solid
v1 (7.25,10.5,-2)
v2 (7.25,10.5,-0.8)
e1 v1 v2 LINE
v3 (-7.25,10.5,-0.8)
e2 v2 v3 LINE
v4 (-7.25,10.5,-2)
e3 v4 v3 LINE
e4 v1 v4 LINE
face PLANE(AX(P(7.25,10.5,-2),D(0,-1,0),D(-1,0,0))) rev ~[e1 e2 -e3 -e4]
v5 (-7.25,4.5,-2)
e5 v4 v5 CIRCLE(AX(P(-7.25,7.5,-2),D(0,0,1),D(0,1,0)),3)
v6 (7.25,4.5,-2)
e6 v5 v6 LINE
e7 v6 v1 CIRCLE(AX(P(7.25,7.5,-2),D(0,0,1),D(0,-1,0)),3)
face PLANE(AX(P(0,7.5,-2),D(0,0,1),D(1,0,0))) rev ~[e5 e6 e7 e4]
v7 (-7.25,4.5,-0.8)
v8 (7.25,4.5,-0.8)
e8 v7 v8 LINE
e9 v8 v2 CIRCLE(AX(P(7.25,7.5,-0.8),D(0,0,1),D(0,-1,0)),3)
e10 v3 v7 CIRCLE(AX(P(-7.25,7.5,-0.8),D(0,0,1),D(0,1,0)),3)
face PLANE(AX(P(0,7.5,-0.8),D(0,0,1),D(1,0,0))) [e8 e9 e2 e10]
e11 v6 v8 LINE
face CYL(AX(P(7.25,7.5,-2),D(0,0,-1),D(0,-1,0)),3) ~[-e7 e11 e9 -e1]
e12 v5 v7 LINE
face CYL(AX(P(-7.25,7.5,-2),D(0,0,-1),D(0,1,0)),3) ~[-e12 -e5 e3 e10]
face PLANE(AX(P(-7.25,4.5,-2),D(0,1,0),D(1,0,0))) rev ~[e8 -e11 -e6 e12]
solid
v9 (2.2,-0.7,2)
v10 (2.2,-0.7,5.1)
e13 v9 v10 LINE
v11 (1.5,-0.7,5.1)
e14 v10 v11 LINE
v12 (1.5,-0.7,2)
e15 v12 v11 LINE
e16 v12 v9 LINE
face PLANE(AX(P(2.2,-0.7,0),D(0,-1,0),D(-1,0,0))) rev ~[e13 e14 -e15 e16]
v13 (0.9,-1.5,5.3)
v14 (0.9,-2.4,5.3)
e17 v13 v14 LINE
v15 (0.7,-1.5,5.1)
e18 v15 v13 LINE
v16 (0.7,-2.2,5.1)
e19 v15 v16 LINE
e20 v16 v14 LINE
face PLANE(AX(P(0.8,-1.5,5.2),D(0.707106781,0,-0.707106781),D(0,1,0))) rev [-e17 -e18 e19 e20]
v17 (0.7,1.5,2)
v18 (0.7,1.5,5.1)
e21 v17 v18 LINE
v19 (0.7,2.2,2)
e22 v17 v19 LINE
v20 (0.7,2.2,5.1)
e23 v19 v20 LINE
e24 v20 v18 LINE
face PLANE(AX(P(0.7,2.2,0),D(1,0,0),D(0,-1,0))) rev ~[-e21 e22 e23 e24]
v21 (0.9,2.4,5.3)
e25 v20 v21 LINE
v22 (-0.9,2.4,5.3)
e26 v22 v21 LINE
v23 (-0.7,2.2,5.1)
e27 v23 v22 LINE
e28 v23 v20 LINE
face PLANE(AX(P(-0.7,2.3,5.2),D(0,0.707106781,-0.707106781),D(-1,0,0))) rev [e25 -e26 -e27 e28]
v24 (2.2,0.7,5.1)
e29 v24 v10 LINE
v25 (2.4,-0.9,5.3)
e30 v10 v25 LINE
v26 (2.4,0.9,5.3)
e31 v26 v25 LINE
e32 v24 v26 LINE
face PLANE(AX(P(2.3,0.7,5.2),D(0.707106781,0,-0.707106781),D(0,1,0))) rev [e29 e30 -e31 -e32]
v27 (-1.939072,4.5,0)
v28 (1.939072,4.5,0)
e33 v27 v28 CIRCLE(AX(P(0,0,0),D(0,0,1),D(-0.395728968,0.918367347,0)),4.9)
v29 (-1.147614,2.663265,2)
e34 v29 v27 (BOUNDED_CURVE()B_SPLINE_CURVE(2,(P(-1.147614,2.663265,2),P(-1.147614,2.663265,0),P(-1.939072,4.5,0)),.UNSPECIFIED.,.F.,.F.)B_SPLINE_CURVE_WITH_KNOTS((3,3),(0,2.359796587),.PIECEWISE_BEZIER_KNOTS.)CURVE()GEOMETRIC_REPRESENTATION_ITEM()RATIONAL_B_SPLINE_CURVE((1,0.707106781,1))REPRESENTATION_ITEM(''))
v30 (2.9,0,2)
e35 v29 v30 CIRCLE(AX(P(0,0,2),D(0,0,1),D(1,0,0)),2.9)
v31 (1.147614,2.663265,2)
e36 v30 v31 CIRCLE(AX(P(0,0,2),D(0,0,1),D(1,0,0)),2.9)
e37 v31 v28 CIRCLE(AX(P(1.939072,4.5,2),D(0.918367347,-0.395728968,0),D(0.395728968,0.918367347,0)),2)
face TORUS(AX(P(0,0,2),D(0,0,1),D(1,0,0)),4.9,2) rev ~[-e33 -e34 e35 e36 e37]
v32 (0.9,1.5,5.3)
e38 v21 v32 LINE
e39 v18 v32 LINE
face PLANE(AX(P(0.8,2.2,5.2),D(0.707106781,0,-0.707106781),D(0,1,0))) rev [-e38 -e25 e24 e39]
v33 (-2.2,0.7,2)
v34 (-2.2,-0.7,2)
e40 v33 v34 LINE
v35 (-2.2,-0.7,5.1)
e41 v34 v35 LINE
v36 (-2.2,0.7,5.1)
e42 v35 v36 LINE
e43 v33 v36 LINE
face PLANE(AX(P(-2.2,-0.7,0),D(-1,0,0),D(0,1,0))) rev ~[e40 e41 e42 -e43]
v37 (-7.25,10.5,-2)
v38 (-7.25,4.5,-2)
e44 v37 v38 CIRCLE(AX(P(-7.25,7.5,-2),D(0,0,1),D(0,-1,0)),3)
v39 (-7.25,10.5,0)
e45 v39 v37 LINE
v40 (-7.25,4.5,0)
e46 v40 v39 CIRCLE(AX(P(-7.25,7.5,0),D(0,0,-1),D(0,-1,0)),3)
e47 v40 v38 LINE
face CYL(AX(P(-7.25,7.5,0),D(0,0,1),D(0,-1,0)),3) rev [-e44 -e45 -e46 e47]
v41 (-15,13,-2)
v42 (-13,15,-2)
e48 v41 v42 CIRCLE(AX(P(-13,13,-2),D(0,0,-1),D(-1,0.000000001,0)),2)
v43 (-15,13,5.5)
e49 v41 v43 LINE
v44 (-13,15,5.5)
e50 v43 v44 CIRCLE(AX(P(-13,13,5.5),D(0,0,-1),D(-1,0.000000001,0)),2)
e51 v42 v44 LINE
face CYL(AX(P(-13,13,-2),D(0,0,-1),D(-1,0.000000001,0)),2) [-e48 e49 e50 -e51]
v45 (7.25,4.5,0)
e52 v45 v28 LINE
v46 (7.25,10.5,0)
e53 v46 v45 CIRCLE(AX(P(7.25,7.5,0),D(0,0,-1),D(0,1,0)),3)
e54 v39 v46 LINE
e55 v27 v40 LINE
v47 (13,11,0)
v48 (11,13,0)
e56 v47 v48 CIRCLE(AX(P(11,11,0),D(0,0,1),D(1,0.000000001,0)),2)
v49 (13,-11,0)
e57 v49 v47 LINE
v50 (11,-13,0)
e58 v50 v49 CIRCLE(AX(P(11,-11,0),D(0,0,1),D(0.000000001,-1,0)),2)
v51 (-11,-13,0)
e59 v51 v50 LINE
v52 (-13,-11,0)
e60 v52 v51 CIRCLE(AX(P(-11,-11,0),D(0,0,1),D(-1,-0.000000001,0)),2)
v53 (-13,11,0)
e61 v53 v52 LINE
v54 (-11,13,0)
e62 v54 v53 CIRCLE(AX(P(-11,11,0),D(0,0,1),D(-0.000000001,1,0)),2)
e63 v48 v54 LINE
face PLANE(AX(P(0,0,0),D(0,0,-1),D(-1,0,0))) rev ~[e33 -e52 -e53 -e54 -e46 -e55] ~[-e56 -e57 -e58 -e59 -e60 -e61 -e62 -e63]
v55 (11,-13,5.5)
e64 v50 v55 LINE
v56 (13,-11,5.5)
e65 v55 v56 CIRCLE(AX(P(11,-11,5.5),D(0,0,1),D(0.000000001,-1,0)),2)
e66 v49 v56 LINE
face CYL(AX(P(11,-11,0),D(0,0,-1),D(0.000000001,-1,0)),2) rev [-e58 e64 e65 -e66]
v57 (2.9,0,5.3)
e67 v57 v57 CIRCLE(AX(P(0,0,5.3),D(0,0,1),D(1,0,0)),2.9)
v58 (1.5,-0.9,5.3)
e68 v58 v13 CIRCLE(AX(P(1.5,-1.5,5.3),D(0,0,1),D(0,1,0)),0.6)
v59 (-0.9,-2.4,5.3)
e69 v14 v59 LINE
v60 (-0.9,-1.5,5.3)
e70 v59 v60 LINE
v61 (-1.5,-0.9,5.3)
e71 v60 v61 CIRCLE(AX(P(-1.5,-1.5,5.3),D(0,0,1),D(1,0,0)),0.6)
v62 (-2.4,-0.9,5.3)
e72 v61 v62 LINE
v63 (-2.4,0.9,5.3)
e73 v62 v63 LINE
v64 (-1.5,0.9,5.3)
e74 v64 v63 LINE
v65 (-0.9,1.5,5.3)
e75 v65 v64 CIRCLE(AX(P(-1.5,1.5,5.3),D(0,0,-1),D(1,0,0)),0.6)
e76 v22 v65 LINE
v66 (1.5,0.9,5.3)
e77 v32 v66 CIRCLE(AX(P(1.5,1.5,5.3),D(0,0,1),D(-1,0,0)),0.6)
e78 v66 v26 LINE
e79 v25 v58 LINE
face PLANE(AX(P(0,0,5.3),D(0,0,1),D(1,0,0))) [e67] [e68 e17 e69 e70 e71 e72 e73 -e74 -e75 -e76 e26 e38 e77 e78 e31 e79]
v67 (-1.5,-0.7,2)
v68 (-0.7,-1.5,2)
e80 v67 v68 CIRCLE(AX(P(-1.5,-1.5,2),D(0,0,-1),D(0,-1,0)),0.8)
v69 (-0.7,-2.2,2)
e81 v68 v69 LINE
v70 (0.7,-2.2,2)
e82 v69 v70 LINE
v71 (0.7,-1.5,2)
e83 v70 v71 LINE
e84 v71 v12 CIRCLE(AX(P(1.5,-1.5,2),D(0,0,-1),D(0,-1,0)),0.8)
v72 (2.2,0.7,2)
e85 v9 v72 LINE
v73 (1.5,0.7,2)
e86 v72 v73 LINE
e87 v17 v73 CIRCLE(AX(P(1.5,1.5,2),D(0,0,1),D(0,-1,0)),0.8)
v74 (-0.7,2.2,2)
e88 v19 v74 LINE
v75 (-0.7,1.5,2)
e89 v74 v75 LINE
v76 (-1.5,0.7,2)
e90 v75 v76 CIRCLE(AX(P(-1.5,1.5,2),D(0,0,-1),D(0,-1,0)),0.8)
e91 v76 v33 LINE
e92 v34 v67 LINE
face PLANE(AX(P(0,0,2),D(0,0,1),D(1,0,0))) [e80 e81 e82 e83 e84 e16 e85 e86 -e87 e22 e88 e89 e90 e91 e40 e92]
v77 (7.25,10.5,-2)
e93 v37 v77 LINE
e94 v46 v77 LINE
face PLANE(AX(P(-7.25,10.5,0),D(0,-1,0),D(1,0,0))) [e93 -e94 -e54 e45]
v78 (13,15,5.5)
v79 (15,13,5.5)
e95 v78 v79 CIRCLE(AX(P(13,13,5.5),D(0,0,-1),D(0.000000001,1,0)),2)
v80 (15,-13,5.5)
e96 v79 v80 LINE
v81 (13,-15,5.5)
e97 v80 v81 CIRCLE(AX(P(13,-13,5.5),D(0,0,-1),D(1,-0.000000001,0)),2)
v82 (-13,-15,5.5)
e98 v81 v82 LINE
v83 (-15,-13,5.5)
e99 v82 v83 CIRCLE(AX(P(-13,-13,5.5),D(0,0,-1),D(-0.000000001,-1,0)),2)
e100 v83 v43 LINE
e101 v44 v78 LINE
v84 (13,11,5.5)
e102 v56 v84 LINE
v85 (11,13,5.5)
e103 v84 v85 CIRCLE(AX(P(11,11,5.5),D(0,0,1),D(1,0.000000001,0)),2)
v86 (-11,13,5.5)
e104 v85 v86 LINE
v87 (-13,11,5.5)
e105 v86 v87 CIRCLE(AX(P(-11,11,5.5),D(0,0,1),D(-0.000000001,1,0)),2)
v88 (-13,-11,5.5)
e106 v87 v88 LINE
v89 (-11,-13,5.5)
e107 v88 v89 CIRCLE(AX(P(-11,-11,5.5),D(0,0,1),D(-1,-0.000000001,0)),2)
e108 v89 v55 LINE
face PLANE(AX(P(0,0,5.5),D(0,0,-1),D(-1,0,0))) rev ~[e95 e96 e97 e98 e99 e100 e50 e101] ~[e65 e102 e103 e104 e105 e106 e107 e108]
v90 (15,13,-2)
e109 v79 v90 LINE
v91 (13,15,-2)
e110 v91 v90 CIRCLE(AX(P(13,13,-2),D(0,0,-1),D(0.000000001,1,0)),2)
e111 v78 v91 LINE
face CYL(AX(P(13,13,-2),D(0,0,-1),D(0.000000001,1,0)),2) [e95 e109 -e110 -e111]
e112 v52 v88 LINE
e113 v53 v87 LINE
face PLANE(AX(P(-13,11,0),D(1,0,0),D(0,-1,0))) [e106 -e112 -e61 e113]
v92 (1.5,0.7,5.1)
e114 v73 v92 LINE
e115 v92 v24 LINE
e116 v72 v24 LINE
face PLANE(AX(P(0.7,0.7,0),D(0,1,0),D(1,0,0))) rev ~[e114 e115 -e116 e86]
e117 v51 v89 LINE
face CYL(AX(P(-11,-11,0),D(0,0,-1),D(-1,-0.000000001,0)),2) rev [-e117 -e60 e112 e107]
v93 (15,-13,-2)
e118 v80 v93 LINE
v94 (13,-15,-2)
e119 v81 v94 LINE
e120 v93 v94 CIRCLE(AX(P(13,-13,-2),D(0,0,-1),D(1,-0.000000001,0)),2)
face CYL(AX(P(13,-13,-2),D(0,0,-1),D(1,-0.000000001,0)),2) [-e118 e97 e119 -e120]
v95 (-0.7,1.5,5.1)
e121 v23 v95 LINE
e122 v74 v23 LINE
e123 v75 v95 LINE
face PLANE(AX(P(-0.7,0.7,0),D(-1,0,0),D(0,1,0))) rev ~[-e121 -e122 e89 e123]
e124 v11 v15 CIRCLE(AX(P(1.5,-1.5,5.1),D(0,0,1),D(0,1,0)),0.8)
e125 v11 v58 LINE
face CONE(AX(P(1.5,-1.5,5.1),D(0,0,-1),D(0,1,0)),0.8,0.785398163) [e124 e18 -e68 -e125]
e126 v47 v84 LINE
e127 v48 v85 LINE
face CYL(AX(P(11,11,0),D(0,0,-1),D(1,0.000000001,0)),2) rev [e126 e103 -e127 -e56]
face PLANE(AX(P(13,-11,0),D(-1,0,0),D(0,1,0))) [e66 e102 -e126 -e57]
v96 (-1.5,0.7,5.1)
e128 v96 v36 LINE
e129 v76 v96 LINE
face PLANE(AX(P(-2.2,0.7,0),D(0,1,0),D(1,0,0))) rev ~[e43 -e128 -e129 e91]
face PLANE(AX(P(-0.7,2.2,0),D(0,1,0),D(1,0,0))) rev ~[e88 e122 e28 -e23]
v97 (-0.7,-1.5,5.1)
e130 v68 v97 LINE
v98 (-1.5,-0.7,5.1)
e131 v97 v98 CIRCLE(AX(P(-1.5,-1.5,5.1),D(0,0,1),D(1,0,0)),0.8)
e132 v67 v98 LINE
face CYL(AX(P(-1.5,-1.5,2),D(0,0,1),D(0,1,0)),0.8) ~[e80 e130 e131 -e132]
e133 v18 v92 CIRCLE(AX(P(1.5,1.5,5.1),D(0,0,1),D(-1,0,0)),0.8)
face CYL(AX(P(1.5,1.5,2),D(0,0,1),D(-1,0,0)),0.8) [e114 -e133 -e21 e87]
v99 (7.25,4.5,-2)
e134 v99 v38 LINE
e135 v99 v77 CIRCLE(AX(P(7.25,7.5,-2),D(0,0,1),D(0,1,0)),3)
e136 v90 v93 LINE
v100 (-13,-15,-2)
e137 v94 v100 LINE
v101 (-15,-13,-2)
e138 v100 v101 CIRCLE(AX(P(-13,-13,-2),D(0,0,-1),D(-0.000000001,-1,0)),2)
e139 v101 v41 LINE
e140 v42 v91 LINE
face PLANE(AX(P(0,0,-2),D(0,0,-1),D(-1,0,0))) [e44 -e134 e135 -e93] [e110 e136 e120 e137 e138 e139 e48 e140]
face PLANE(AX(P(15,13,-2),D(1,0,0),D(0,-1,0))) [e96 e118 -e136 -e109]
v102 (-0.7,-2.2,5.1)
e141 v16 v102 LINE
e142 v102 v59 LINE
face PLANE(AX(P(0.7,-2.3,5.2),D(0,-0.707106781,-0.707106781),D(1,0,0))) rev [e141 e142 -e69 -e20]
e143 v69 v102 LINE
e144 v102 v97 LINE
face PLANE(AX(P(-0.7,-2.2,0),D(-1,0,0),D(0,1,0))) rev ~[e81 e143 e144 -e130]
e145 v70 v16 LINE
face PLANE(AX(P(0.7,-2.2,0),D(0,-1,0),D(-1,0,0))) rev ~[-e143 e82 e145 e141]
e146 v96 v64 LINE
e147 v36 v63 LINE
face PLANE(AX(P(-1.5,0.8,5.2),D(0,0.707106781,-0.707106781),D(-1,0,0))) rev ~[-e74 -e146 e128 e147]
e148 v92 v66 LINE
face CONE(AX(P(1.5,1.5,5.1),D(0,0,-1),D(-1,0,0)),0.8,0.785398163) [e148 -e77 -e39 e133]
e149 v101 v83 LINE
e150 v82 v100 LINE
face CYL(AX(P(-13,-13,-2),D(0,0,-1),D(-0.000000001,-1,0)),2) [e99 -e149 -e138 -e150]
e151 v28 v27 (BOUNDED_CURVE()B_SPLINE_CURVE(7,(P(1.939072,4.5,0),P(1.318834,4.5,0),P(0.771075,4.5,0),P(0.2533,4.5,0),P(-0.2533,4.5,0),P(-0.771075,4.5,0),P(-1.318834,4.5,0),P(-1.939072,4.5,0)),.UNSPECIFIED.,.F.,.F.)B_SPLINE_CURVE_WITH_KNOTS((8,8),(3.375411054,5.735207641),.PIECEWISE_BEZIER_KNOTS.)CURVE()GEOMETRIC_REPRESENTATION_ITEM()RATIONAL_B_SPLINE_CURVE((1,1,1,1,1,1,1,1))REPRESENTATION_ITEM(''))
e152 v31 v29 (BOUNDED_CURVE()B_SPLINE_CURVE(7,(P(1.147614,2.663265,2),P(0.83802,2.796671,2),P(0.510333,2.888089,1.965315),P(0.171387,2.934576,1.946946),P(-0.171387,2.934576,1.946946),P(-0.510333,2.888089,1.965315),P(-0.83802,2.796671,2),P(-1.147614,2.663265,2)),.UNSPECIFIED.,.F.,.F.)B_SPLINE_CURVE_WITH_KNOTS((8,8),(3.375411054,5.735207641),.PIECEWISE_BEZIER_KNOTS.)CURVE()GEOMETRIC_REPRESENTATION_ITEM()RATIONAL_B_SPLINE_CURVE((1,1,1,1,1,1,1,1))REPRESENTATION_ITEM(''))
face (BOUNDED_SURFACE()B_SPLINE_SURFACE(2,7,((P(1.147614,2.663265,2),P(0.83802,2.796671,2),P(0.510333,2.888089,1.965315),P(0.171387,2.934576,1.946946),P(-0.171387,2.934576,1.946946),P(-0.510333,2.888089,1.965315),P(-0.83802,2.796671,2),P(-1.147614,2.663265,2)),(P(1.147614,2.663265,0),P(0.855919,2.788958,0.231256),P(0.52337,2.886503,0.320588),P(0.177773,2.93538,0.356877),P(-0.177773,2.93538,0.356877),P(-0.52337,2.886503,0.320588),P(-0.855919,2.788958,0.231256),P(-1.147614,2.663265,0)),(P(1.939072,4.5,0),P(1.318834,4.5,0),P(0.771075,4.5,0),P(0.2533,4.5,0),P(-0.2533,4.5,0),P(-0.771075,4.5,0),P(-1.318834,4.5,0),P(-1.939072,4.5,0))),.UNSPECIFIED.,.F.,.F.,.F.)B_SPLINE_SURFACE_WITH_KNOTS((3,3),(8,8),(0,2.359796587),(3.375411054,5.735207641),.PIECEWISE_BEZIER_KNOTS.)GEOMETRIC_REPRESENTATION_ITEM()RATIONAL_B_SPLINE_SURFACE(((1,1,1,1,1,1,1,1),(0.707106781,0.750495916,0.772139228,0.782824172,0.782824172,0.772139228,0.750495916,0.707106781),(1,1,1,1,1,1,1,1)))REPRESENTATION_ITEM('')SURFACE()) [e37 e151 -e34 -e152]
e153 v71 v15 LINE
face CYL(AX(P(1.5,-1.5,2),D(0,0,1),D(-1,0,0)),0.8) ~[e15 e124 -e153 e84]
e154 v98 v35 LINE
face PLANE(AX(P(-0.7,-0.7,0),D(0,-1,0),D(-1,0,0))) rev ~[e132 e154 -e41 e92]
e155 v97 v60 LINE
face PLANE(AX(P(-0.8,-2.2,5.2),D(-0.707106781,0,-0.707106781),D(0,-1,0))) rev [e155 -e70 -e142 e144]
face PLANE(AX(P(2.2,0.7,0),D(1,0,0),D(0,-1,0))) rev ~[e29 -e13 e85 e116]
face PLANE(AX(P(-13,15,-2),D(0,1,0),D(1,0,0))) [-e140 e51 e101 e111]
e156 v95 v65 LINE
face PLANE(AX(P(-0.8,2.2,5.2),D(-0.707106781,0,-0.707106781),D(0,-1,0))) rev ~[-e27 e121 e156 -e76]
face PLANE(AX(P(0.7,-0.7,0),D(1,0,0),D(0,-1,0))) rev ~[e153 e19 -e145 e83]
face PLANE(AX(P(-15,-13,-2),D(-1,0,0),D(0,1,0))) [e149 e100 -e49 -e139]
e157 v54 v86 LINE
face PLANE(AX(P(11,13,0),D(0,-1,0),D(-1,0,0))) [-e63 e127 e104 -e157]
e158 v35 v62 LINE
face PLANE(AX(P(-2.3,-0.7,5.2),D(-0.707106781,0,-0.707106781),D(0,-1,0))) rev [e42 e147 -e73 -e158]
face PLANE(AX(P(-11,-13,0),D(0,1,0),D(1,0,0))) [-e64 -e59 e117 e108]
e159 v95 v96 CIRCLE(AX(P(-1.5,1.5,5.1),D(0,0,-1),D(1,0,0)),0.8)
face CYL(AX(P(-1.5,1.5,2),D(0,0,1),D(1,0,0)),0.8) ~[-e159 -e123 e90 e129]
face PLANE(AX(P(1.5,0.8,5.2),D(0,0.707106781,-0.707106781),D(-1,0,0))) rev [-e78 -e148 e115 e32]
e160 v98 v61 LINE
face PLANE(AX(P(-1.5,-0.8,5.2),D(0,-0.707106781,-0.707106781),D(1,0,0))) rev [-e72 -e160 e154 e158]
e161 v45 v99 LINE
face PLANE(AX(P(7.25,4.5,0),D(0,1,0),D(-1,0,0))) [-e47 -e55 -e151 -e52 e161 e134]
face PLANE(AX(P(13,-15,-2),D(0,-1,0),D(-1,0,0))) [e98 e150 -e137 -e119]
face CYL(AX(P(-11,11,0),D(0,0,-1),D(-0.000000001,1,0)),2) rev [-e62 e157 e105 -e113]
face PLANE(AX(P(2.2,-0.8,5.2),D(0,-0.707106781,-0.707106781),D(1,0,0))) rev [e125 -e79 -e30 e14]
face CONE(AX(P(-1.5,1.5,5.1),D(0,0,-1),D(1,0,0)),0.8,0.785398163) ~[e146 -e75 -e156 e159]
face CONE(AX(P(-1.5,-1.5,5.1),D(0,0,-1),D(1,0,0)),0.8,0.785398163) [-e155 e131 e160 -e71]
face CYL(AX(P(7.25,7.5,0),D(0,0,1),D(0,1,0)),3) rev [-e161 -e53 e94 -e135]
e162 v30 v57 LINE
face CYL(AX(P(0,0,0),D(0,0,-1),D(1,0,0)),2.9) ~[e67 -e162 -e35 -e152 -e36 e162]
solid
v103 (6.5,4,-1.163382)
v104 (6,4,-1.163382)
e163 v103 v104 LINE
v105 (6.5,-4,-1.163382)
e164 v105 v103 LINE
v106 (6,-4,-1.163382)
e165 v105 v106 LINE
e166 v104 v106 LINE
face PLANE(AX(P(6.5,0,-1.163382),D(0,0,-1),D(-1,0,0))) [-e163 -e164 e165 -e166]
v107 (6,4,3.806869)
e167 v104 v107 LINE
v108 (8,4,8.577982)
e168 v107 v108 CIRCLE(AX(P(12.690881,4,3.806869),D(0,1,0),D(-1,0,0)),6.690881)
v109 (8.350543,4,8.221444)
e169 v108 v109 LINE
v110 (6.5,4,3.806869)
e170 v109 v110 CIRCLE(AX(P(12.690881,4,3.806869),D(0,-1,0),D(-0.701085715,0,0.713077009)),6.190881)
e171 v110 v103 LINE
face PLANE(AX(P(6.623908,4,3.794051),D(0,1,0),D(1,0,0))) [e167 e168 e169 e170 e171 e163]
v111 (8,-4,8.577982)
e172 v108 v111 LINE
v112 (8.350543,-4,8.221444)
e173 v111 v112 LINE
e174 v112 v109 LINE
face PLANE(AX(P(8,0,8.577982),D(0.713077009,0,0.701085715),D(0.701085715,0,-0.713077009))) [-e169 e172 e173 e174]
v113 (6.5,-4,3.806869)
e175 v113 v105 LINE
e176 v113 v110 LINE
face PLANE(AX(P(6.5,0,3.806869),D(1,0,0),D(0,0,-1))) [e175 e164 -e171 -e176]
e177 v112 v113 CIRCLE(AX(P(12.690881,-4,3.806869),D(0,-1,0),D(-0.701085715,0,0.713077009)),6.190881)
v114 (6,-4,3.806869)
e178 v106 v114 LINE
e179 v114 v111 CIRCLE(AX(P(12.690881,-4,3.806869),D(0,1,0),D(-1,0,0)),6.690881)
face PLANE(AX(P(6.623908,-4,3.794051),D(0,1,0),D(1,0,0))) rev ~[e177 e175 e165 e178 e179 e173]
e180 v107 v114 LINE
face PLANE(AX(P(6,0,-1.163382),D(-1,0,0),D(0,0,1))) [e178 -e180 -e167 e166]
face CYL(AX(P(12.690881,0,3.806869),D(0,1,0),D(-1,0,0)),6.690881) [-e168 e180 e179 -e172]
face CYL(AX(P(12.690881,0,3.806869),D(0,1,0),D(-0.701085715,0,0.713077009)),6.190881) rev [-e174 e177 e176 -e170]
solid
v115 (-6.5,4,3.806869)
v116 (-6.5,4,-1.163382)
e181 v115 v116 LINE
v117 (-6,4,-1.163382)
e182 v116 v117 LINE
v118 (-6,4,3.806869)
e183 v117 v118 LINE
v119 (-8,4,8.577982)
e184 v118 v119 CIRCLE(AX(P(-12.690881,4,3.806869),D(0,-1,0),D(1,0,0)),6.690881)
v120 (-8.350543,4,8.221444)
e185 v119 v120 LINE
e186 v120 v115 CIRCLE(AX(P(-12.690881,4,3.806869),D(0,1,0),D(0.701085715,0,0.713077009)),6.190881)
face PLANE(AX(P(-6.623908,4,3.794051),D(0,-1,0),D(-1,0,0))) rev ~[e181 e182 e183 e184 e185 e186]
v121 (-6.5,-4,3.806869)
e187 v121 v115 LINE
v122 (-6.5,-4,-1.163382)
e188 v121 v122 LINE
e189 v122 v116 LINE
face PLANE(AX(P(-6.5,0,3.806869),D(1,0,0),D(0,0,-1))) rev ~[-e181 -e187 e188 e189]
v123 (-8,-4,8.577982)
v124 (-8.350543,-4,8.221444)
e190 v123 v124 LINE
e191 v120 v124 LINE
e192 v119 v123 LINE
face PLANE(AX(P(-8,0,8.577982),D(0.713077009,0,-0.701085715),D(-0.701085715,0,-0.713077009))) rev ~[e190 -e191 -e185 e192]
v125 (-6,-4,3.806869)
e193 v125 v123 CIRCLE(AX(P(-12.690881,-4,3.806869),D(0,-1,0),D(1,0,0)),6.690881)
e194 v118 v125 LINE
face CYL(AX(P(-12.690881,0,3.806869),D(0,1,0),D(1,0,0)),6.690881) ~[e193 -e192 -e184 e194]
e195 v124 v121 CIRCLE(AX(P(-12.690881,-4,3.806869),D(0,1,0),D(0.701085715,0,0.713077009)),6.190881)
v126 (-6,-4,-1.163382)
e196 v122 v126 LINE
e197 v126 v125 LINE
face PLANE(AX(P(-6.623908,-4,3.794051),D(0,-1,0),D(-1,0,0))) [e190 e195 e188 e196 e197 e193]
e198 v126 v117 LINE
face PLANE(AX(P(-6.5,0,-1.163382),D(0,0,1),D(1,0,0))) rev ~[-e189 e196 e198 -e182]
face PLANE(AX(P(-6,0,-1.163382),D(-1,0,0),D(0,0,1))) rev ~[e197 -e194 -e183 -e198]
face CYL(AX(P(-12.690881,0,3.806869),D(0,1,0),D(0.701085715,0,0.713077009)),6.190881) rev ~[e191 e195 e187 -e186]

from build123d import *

# Parameters (mm, degrees)
EXTRUDE_1_DEPTH     = 5.5
SKETCH_1_6_R        = 2.9
EXTRUDE_2_DEPTH     = 5.3
EXTRUDE_START       = -2
EXTRUDE_3_DEPTH     = 2
EXTRUDE_4_DEPTH     = 2
CUT_EXTRUDE_1_REACH = 23.915
EXTRUDE_6_DEPTH     = 1.2
EXTRUDE_9_DEPTH     = 4
EXTRUDE_9_2_DEPTH   = 4
FILLET_4_R          = 0.8
CHAMFER_1_SIZE      = 0.2
FILLET_5_R          = 2


with BuildPart() as part:
    # 草图1 → 凸台-拉伸1 (new body)
    with BuildSketch(Plane.XY):
        with BuildLine():
            ThreePointArc((-15, 13), (-14.414213562, 14.414213562), (-13, 15))
            Line((-13, 15), (13, 15))
            ThreePointArc((13, 15), (14.414213562, 14.414213562), (15, 13))
            Line((15, 13), (15, -13))
            ThreePointArc((15, -13), (14.414213562, -14.414213562), (13, -15))
            Line((13, -15), (-13, -15))
            ThreePointArc((-13, -15), (-14.414213562, -14.414213562), (-15, -13))
            Line((-15, -13), (-15, 13))
        make_face()
        with BuildLine():
            ThreePointArc((-13, -11), (-12.414213562, -12.414213562), (-11, -13))
            Line((-11, -13), (11, -13))
            ThreePointArc((11, -13), (12.414213562, -12.414213562), (13, -11))
            Line((13, -11), (13, 11))
            ThreePointArc((13, 11), (12.414213562, 12.414213562), (11, 13))
            Line((11, 13), (-11, 13))
            ThreePointArc((-11, 13), (-12.414213562, 12.414213562), (-13, 11))
            Line((-13, 11), (-13, -11))
        make_face(mode=Mode.SUBTRACT)
    extrude(amount=EXTRUDE_1_DEPTH)



with BuildPart() as body_2:
    # 草图1<6> → 凸台-拉伸2 (new body)
    with BuildSketch(Plane.XY):
        Circle(SKETCH_1_6_R)
        Polygon((-2.2, -0.7), (-2.2, 0.7), (-0.7, 0.7), (-0.7, 2.2), (0.7, 2.2), (0.7, 0.7), (2.2, 0.7), (2.2, -0.7), (0.7, -0.7), (0.7, -2.2), (-0.7, -2.2), (-0.7, -0.7), align=None, mode=Mode.SUBTRACT)
    extrude(amount=EXTRUDE_2_DEPTH)


with BuildPart() as part_1:
    add(part.part)

    add(body_2.part)  # 凸台-拉伸3 merges body 2
    # 草图1<7> → 凸台-拉伸3 (add)
    with BuildSketch(Plane.XY.offset(EXTRUDE_START)):
        with BuildLine():
            Line((-13, 15), (13, 15))
            ThreePointArc((13, 15), (14.414213562, 14.414213562), (15, 13))
            Line((15, 13), (15, -13))
            ThreePointArc((15, -13), (14.414213562, -14.414213562), (13, -15))
            Line((13, -15), (-13, -15))
            ThreePointArc((-13, -15), (-14.414213562, -14.414213562), (-15, -13))
            Line((-15, -13), (-15, 13))
            ThreePointArc((-15, 13), (-14.414213562, 14.414213562), (-13, 15))
        make_face()
    extrude(amount=EXTRUDE_3_DEPTH)

    # 草图3 → 凸台-拉伸4 (add)
    with BuildSketch(Plane.XY):
        Polygon((0.7, 0.7), (0.7, 2.2), (-0.7, 2.2), (-0.7, 0.7), (-2.2, 0.7), (-2.2, -0.7), (-0.7, -0.7), (-0.7, -2.2), (0.7, -2.2), (0.7, -0.7), (2.2, -0.7), (2.2, 0.7), align=None)
    extrude(amount=EXTRUDE_4_DEPTH)

    # 草图5 → 切除-拉伸1 (cut, up to next)
    with BuildSketch(Plane.XY, mode=Mode.PRIVATE) as cut_extrude_1_sk1:
        with BuildLine():
            Line((7.25, 4.5), (-7.25, 4.5))
            ThreePointArc((-7.25, 4.5), (-10.25, 7.5), (-7.25, 10.5))
            Line((-7.25, 10.5), (7.25, 10.5))
            ThreePointArc((7.25, 10.5), (10.25, 7.5), (7.25, 4.5))
        make_face()
    cut_extrude_1_tool1 = extrude(cut_extrude_1_sk1.sketch, amount=-CUT_EXTRUDE_1_REACH, mode=Mode.PRIVATE) & part_1.part
    add(cut_extrude_1_tool1.solids().sort_by_distance((0, 7.5, 0))[0], mode=Mode.SUBTRACT)

    # 圆角4
    fillet_4_edges = [part_1.edges().sort_by_distance(p)[0] for p in [
        (0.7, 0.7, 3.65),
        (0.7, -0.7, 3.65),
        (-0.7, -0.7, 3.65),
        (-0.7, 0.7, 3.65),
    ]]
    fillet(fillet_4_edges, radius=FILLET_4_R)

    # 倒角1
    chamfer_1_edges = [part_1.edges().sort_by_distance(p)[0] for p in [
        (1.85, 0.7, 5.3),
        (1.85, -0.7, 5.3),
        (0.7, -1.85, 5.3),
        (-0.7, -1.85, 5.3),
        (0.934314575, -0.934314575, 5.3),
        (-0.934314575, -0.934314575, 5.3),
        (0.934314575, 0.934314575, 5.3),
        (-0.934314575, 0.934314575, 5.3),
        (0, -2.2, 5.3),
        (-1.85, -0.7, 5.3),
        (-2.2, 0, 5.3),
        (-0.7, 1.85, 5.3),
        (0, 2.2, 5.3),
        (0.7, 1.85, 5.3),
        (2.2, 0, 5.3),
        (-1.85, 0.7, 5.3),
    ]]
    chamfer(chamfer_1_edges, length=CHAMFER_1_SIZE)

    # 圆角5
    fillet_5_edges = [part_1.edges().sort_by_distance(p)[0] for p in [
        (-2.9, 0, 0),
    ]]
    fillet(fillet_5_edges, radius=FILLET_5_R)


with BuildPart() as body_2_2:
    # 草图6 → 凸台-拉伸6 (new body)
    with BuildSketch(Plane(origin=(0, 0, -2), x_dir=(-1, 0, 0), z_dir=(0, 0, -1))):
        with BuildLine():
            Line((7.25, 4.5), (-7.25, 4.5))
            ThreePointArc((-7.25, 4.5), (-10.25, 7.5), (-7.25, 10.5))
            Line((-7.25, 10.5), (7.25, 10.5))
            ThreePointArc((7.25, 10.5), (10.25, 7.5), (7.25, 4.5))
        make_face()
    extrude(amount=-EXTRUDE_6_DEPTH)


with BuildPart() as body_3:
    # 草图9 → 凸台-拉伸9 (new, symmetric)
    with BuildSketch(Plane(origin=(0, 0, 0), x_dir=(1, 0, 0), z_dir=(0, 1, 0))):
        with BuildLine():
            Line((8, -8.577982298), (8.350542857, -8.221443794))
            ThreePointArc((8.350542857, -8.221443794), (6.981348422, -6.200244031), (6.5, -3.806868679))
            Line((6.5, -3.806868679), (6.5, 1.163381533))
            Line((6.5, 1.163381533), (6, 1.163381533))
            Line((6, 1.163381533), (6, -3.806868679))
            ThreePointArc((6, -3.806868679), (6.52022402, -6.393542468), (8, -8.577982298))
        make_face()
    extrude(amount=EXTRUDE_9_DEPTH, both=True)


with BuildPart() as body_4:
    # 草图9 → Extrude 9 2 (new, symmetric)
    with BuildSketch(Plane(origin=(0, 0, 0), x_dir=(1, 0, 0), z_dir=(0, 1, 0))):
        with BuildLine():
            Line((-6, 1.163381533), (-6, -3.806868679))
            ThreePointArc((-6, -3.806868679), (-6.52022402, -6.393542468), (-8, -8.577982298))
            Line((-8, -8.577982298), (-8.350542857, -8.221443794))
            ThreePointArc((-8.350542857, -8.221443794), (-6.981348422, -6.200244031), (-6.5, -3.806868679))
            Line((-6.5, -3.806868679), (-6.5, 1.163381533))
            Line((-6.5, 1.163381533), (-6, 1.163381533))
        make_face()
    extrude(amount=EXTRUDE_9_2_DEPTH, both=True)


solid = Compound([part_1.part, body_2_2.part, body_3.part, body_4.part])
